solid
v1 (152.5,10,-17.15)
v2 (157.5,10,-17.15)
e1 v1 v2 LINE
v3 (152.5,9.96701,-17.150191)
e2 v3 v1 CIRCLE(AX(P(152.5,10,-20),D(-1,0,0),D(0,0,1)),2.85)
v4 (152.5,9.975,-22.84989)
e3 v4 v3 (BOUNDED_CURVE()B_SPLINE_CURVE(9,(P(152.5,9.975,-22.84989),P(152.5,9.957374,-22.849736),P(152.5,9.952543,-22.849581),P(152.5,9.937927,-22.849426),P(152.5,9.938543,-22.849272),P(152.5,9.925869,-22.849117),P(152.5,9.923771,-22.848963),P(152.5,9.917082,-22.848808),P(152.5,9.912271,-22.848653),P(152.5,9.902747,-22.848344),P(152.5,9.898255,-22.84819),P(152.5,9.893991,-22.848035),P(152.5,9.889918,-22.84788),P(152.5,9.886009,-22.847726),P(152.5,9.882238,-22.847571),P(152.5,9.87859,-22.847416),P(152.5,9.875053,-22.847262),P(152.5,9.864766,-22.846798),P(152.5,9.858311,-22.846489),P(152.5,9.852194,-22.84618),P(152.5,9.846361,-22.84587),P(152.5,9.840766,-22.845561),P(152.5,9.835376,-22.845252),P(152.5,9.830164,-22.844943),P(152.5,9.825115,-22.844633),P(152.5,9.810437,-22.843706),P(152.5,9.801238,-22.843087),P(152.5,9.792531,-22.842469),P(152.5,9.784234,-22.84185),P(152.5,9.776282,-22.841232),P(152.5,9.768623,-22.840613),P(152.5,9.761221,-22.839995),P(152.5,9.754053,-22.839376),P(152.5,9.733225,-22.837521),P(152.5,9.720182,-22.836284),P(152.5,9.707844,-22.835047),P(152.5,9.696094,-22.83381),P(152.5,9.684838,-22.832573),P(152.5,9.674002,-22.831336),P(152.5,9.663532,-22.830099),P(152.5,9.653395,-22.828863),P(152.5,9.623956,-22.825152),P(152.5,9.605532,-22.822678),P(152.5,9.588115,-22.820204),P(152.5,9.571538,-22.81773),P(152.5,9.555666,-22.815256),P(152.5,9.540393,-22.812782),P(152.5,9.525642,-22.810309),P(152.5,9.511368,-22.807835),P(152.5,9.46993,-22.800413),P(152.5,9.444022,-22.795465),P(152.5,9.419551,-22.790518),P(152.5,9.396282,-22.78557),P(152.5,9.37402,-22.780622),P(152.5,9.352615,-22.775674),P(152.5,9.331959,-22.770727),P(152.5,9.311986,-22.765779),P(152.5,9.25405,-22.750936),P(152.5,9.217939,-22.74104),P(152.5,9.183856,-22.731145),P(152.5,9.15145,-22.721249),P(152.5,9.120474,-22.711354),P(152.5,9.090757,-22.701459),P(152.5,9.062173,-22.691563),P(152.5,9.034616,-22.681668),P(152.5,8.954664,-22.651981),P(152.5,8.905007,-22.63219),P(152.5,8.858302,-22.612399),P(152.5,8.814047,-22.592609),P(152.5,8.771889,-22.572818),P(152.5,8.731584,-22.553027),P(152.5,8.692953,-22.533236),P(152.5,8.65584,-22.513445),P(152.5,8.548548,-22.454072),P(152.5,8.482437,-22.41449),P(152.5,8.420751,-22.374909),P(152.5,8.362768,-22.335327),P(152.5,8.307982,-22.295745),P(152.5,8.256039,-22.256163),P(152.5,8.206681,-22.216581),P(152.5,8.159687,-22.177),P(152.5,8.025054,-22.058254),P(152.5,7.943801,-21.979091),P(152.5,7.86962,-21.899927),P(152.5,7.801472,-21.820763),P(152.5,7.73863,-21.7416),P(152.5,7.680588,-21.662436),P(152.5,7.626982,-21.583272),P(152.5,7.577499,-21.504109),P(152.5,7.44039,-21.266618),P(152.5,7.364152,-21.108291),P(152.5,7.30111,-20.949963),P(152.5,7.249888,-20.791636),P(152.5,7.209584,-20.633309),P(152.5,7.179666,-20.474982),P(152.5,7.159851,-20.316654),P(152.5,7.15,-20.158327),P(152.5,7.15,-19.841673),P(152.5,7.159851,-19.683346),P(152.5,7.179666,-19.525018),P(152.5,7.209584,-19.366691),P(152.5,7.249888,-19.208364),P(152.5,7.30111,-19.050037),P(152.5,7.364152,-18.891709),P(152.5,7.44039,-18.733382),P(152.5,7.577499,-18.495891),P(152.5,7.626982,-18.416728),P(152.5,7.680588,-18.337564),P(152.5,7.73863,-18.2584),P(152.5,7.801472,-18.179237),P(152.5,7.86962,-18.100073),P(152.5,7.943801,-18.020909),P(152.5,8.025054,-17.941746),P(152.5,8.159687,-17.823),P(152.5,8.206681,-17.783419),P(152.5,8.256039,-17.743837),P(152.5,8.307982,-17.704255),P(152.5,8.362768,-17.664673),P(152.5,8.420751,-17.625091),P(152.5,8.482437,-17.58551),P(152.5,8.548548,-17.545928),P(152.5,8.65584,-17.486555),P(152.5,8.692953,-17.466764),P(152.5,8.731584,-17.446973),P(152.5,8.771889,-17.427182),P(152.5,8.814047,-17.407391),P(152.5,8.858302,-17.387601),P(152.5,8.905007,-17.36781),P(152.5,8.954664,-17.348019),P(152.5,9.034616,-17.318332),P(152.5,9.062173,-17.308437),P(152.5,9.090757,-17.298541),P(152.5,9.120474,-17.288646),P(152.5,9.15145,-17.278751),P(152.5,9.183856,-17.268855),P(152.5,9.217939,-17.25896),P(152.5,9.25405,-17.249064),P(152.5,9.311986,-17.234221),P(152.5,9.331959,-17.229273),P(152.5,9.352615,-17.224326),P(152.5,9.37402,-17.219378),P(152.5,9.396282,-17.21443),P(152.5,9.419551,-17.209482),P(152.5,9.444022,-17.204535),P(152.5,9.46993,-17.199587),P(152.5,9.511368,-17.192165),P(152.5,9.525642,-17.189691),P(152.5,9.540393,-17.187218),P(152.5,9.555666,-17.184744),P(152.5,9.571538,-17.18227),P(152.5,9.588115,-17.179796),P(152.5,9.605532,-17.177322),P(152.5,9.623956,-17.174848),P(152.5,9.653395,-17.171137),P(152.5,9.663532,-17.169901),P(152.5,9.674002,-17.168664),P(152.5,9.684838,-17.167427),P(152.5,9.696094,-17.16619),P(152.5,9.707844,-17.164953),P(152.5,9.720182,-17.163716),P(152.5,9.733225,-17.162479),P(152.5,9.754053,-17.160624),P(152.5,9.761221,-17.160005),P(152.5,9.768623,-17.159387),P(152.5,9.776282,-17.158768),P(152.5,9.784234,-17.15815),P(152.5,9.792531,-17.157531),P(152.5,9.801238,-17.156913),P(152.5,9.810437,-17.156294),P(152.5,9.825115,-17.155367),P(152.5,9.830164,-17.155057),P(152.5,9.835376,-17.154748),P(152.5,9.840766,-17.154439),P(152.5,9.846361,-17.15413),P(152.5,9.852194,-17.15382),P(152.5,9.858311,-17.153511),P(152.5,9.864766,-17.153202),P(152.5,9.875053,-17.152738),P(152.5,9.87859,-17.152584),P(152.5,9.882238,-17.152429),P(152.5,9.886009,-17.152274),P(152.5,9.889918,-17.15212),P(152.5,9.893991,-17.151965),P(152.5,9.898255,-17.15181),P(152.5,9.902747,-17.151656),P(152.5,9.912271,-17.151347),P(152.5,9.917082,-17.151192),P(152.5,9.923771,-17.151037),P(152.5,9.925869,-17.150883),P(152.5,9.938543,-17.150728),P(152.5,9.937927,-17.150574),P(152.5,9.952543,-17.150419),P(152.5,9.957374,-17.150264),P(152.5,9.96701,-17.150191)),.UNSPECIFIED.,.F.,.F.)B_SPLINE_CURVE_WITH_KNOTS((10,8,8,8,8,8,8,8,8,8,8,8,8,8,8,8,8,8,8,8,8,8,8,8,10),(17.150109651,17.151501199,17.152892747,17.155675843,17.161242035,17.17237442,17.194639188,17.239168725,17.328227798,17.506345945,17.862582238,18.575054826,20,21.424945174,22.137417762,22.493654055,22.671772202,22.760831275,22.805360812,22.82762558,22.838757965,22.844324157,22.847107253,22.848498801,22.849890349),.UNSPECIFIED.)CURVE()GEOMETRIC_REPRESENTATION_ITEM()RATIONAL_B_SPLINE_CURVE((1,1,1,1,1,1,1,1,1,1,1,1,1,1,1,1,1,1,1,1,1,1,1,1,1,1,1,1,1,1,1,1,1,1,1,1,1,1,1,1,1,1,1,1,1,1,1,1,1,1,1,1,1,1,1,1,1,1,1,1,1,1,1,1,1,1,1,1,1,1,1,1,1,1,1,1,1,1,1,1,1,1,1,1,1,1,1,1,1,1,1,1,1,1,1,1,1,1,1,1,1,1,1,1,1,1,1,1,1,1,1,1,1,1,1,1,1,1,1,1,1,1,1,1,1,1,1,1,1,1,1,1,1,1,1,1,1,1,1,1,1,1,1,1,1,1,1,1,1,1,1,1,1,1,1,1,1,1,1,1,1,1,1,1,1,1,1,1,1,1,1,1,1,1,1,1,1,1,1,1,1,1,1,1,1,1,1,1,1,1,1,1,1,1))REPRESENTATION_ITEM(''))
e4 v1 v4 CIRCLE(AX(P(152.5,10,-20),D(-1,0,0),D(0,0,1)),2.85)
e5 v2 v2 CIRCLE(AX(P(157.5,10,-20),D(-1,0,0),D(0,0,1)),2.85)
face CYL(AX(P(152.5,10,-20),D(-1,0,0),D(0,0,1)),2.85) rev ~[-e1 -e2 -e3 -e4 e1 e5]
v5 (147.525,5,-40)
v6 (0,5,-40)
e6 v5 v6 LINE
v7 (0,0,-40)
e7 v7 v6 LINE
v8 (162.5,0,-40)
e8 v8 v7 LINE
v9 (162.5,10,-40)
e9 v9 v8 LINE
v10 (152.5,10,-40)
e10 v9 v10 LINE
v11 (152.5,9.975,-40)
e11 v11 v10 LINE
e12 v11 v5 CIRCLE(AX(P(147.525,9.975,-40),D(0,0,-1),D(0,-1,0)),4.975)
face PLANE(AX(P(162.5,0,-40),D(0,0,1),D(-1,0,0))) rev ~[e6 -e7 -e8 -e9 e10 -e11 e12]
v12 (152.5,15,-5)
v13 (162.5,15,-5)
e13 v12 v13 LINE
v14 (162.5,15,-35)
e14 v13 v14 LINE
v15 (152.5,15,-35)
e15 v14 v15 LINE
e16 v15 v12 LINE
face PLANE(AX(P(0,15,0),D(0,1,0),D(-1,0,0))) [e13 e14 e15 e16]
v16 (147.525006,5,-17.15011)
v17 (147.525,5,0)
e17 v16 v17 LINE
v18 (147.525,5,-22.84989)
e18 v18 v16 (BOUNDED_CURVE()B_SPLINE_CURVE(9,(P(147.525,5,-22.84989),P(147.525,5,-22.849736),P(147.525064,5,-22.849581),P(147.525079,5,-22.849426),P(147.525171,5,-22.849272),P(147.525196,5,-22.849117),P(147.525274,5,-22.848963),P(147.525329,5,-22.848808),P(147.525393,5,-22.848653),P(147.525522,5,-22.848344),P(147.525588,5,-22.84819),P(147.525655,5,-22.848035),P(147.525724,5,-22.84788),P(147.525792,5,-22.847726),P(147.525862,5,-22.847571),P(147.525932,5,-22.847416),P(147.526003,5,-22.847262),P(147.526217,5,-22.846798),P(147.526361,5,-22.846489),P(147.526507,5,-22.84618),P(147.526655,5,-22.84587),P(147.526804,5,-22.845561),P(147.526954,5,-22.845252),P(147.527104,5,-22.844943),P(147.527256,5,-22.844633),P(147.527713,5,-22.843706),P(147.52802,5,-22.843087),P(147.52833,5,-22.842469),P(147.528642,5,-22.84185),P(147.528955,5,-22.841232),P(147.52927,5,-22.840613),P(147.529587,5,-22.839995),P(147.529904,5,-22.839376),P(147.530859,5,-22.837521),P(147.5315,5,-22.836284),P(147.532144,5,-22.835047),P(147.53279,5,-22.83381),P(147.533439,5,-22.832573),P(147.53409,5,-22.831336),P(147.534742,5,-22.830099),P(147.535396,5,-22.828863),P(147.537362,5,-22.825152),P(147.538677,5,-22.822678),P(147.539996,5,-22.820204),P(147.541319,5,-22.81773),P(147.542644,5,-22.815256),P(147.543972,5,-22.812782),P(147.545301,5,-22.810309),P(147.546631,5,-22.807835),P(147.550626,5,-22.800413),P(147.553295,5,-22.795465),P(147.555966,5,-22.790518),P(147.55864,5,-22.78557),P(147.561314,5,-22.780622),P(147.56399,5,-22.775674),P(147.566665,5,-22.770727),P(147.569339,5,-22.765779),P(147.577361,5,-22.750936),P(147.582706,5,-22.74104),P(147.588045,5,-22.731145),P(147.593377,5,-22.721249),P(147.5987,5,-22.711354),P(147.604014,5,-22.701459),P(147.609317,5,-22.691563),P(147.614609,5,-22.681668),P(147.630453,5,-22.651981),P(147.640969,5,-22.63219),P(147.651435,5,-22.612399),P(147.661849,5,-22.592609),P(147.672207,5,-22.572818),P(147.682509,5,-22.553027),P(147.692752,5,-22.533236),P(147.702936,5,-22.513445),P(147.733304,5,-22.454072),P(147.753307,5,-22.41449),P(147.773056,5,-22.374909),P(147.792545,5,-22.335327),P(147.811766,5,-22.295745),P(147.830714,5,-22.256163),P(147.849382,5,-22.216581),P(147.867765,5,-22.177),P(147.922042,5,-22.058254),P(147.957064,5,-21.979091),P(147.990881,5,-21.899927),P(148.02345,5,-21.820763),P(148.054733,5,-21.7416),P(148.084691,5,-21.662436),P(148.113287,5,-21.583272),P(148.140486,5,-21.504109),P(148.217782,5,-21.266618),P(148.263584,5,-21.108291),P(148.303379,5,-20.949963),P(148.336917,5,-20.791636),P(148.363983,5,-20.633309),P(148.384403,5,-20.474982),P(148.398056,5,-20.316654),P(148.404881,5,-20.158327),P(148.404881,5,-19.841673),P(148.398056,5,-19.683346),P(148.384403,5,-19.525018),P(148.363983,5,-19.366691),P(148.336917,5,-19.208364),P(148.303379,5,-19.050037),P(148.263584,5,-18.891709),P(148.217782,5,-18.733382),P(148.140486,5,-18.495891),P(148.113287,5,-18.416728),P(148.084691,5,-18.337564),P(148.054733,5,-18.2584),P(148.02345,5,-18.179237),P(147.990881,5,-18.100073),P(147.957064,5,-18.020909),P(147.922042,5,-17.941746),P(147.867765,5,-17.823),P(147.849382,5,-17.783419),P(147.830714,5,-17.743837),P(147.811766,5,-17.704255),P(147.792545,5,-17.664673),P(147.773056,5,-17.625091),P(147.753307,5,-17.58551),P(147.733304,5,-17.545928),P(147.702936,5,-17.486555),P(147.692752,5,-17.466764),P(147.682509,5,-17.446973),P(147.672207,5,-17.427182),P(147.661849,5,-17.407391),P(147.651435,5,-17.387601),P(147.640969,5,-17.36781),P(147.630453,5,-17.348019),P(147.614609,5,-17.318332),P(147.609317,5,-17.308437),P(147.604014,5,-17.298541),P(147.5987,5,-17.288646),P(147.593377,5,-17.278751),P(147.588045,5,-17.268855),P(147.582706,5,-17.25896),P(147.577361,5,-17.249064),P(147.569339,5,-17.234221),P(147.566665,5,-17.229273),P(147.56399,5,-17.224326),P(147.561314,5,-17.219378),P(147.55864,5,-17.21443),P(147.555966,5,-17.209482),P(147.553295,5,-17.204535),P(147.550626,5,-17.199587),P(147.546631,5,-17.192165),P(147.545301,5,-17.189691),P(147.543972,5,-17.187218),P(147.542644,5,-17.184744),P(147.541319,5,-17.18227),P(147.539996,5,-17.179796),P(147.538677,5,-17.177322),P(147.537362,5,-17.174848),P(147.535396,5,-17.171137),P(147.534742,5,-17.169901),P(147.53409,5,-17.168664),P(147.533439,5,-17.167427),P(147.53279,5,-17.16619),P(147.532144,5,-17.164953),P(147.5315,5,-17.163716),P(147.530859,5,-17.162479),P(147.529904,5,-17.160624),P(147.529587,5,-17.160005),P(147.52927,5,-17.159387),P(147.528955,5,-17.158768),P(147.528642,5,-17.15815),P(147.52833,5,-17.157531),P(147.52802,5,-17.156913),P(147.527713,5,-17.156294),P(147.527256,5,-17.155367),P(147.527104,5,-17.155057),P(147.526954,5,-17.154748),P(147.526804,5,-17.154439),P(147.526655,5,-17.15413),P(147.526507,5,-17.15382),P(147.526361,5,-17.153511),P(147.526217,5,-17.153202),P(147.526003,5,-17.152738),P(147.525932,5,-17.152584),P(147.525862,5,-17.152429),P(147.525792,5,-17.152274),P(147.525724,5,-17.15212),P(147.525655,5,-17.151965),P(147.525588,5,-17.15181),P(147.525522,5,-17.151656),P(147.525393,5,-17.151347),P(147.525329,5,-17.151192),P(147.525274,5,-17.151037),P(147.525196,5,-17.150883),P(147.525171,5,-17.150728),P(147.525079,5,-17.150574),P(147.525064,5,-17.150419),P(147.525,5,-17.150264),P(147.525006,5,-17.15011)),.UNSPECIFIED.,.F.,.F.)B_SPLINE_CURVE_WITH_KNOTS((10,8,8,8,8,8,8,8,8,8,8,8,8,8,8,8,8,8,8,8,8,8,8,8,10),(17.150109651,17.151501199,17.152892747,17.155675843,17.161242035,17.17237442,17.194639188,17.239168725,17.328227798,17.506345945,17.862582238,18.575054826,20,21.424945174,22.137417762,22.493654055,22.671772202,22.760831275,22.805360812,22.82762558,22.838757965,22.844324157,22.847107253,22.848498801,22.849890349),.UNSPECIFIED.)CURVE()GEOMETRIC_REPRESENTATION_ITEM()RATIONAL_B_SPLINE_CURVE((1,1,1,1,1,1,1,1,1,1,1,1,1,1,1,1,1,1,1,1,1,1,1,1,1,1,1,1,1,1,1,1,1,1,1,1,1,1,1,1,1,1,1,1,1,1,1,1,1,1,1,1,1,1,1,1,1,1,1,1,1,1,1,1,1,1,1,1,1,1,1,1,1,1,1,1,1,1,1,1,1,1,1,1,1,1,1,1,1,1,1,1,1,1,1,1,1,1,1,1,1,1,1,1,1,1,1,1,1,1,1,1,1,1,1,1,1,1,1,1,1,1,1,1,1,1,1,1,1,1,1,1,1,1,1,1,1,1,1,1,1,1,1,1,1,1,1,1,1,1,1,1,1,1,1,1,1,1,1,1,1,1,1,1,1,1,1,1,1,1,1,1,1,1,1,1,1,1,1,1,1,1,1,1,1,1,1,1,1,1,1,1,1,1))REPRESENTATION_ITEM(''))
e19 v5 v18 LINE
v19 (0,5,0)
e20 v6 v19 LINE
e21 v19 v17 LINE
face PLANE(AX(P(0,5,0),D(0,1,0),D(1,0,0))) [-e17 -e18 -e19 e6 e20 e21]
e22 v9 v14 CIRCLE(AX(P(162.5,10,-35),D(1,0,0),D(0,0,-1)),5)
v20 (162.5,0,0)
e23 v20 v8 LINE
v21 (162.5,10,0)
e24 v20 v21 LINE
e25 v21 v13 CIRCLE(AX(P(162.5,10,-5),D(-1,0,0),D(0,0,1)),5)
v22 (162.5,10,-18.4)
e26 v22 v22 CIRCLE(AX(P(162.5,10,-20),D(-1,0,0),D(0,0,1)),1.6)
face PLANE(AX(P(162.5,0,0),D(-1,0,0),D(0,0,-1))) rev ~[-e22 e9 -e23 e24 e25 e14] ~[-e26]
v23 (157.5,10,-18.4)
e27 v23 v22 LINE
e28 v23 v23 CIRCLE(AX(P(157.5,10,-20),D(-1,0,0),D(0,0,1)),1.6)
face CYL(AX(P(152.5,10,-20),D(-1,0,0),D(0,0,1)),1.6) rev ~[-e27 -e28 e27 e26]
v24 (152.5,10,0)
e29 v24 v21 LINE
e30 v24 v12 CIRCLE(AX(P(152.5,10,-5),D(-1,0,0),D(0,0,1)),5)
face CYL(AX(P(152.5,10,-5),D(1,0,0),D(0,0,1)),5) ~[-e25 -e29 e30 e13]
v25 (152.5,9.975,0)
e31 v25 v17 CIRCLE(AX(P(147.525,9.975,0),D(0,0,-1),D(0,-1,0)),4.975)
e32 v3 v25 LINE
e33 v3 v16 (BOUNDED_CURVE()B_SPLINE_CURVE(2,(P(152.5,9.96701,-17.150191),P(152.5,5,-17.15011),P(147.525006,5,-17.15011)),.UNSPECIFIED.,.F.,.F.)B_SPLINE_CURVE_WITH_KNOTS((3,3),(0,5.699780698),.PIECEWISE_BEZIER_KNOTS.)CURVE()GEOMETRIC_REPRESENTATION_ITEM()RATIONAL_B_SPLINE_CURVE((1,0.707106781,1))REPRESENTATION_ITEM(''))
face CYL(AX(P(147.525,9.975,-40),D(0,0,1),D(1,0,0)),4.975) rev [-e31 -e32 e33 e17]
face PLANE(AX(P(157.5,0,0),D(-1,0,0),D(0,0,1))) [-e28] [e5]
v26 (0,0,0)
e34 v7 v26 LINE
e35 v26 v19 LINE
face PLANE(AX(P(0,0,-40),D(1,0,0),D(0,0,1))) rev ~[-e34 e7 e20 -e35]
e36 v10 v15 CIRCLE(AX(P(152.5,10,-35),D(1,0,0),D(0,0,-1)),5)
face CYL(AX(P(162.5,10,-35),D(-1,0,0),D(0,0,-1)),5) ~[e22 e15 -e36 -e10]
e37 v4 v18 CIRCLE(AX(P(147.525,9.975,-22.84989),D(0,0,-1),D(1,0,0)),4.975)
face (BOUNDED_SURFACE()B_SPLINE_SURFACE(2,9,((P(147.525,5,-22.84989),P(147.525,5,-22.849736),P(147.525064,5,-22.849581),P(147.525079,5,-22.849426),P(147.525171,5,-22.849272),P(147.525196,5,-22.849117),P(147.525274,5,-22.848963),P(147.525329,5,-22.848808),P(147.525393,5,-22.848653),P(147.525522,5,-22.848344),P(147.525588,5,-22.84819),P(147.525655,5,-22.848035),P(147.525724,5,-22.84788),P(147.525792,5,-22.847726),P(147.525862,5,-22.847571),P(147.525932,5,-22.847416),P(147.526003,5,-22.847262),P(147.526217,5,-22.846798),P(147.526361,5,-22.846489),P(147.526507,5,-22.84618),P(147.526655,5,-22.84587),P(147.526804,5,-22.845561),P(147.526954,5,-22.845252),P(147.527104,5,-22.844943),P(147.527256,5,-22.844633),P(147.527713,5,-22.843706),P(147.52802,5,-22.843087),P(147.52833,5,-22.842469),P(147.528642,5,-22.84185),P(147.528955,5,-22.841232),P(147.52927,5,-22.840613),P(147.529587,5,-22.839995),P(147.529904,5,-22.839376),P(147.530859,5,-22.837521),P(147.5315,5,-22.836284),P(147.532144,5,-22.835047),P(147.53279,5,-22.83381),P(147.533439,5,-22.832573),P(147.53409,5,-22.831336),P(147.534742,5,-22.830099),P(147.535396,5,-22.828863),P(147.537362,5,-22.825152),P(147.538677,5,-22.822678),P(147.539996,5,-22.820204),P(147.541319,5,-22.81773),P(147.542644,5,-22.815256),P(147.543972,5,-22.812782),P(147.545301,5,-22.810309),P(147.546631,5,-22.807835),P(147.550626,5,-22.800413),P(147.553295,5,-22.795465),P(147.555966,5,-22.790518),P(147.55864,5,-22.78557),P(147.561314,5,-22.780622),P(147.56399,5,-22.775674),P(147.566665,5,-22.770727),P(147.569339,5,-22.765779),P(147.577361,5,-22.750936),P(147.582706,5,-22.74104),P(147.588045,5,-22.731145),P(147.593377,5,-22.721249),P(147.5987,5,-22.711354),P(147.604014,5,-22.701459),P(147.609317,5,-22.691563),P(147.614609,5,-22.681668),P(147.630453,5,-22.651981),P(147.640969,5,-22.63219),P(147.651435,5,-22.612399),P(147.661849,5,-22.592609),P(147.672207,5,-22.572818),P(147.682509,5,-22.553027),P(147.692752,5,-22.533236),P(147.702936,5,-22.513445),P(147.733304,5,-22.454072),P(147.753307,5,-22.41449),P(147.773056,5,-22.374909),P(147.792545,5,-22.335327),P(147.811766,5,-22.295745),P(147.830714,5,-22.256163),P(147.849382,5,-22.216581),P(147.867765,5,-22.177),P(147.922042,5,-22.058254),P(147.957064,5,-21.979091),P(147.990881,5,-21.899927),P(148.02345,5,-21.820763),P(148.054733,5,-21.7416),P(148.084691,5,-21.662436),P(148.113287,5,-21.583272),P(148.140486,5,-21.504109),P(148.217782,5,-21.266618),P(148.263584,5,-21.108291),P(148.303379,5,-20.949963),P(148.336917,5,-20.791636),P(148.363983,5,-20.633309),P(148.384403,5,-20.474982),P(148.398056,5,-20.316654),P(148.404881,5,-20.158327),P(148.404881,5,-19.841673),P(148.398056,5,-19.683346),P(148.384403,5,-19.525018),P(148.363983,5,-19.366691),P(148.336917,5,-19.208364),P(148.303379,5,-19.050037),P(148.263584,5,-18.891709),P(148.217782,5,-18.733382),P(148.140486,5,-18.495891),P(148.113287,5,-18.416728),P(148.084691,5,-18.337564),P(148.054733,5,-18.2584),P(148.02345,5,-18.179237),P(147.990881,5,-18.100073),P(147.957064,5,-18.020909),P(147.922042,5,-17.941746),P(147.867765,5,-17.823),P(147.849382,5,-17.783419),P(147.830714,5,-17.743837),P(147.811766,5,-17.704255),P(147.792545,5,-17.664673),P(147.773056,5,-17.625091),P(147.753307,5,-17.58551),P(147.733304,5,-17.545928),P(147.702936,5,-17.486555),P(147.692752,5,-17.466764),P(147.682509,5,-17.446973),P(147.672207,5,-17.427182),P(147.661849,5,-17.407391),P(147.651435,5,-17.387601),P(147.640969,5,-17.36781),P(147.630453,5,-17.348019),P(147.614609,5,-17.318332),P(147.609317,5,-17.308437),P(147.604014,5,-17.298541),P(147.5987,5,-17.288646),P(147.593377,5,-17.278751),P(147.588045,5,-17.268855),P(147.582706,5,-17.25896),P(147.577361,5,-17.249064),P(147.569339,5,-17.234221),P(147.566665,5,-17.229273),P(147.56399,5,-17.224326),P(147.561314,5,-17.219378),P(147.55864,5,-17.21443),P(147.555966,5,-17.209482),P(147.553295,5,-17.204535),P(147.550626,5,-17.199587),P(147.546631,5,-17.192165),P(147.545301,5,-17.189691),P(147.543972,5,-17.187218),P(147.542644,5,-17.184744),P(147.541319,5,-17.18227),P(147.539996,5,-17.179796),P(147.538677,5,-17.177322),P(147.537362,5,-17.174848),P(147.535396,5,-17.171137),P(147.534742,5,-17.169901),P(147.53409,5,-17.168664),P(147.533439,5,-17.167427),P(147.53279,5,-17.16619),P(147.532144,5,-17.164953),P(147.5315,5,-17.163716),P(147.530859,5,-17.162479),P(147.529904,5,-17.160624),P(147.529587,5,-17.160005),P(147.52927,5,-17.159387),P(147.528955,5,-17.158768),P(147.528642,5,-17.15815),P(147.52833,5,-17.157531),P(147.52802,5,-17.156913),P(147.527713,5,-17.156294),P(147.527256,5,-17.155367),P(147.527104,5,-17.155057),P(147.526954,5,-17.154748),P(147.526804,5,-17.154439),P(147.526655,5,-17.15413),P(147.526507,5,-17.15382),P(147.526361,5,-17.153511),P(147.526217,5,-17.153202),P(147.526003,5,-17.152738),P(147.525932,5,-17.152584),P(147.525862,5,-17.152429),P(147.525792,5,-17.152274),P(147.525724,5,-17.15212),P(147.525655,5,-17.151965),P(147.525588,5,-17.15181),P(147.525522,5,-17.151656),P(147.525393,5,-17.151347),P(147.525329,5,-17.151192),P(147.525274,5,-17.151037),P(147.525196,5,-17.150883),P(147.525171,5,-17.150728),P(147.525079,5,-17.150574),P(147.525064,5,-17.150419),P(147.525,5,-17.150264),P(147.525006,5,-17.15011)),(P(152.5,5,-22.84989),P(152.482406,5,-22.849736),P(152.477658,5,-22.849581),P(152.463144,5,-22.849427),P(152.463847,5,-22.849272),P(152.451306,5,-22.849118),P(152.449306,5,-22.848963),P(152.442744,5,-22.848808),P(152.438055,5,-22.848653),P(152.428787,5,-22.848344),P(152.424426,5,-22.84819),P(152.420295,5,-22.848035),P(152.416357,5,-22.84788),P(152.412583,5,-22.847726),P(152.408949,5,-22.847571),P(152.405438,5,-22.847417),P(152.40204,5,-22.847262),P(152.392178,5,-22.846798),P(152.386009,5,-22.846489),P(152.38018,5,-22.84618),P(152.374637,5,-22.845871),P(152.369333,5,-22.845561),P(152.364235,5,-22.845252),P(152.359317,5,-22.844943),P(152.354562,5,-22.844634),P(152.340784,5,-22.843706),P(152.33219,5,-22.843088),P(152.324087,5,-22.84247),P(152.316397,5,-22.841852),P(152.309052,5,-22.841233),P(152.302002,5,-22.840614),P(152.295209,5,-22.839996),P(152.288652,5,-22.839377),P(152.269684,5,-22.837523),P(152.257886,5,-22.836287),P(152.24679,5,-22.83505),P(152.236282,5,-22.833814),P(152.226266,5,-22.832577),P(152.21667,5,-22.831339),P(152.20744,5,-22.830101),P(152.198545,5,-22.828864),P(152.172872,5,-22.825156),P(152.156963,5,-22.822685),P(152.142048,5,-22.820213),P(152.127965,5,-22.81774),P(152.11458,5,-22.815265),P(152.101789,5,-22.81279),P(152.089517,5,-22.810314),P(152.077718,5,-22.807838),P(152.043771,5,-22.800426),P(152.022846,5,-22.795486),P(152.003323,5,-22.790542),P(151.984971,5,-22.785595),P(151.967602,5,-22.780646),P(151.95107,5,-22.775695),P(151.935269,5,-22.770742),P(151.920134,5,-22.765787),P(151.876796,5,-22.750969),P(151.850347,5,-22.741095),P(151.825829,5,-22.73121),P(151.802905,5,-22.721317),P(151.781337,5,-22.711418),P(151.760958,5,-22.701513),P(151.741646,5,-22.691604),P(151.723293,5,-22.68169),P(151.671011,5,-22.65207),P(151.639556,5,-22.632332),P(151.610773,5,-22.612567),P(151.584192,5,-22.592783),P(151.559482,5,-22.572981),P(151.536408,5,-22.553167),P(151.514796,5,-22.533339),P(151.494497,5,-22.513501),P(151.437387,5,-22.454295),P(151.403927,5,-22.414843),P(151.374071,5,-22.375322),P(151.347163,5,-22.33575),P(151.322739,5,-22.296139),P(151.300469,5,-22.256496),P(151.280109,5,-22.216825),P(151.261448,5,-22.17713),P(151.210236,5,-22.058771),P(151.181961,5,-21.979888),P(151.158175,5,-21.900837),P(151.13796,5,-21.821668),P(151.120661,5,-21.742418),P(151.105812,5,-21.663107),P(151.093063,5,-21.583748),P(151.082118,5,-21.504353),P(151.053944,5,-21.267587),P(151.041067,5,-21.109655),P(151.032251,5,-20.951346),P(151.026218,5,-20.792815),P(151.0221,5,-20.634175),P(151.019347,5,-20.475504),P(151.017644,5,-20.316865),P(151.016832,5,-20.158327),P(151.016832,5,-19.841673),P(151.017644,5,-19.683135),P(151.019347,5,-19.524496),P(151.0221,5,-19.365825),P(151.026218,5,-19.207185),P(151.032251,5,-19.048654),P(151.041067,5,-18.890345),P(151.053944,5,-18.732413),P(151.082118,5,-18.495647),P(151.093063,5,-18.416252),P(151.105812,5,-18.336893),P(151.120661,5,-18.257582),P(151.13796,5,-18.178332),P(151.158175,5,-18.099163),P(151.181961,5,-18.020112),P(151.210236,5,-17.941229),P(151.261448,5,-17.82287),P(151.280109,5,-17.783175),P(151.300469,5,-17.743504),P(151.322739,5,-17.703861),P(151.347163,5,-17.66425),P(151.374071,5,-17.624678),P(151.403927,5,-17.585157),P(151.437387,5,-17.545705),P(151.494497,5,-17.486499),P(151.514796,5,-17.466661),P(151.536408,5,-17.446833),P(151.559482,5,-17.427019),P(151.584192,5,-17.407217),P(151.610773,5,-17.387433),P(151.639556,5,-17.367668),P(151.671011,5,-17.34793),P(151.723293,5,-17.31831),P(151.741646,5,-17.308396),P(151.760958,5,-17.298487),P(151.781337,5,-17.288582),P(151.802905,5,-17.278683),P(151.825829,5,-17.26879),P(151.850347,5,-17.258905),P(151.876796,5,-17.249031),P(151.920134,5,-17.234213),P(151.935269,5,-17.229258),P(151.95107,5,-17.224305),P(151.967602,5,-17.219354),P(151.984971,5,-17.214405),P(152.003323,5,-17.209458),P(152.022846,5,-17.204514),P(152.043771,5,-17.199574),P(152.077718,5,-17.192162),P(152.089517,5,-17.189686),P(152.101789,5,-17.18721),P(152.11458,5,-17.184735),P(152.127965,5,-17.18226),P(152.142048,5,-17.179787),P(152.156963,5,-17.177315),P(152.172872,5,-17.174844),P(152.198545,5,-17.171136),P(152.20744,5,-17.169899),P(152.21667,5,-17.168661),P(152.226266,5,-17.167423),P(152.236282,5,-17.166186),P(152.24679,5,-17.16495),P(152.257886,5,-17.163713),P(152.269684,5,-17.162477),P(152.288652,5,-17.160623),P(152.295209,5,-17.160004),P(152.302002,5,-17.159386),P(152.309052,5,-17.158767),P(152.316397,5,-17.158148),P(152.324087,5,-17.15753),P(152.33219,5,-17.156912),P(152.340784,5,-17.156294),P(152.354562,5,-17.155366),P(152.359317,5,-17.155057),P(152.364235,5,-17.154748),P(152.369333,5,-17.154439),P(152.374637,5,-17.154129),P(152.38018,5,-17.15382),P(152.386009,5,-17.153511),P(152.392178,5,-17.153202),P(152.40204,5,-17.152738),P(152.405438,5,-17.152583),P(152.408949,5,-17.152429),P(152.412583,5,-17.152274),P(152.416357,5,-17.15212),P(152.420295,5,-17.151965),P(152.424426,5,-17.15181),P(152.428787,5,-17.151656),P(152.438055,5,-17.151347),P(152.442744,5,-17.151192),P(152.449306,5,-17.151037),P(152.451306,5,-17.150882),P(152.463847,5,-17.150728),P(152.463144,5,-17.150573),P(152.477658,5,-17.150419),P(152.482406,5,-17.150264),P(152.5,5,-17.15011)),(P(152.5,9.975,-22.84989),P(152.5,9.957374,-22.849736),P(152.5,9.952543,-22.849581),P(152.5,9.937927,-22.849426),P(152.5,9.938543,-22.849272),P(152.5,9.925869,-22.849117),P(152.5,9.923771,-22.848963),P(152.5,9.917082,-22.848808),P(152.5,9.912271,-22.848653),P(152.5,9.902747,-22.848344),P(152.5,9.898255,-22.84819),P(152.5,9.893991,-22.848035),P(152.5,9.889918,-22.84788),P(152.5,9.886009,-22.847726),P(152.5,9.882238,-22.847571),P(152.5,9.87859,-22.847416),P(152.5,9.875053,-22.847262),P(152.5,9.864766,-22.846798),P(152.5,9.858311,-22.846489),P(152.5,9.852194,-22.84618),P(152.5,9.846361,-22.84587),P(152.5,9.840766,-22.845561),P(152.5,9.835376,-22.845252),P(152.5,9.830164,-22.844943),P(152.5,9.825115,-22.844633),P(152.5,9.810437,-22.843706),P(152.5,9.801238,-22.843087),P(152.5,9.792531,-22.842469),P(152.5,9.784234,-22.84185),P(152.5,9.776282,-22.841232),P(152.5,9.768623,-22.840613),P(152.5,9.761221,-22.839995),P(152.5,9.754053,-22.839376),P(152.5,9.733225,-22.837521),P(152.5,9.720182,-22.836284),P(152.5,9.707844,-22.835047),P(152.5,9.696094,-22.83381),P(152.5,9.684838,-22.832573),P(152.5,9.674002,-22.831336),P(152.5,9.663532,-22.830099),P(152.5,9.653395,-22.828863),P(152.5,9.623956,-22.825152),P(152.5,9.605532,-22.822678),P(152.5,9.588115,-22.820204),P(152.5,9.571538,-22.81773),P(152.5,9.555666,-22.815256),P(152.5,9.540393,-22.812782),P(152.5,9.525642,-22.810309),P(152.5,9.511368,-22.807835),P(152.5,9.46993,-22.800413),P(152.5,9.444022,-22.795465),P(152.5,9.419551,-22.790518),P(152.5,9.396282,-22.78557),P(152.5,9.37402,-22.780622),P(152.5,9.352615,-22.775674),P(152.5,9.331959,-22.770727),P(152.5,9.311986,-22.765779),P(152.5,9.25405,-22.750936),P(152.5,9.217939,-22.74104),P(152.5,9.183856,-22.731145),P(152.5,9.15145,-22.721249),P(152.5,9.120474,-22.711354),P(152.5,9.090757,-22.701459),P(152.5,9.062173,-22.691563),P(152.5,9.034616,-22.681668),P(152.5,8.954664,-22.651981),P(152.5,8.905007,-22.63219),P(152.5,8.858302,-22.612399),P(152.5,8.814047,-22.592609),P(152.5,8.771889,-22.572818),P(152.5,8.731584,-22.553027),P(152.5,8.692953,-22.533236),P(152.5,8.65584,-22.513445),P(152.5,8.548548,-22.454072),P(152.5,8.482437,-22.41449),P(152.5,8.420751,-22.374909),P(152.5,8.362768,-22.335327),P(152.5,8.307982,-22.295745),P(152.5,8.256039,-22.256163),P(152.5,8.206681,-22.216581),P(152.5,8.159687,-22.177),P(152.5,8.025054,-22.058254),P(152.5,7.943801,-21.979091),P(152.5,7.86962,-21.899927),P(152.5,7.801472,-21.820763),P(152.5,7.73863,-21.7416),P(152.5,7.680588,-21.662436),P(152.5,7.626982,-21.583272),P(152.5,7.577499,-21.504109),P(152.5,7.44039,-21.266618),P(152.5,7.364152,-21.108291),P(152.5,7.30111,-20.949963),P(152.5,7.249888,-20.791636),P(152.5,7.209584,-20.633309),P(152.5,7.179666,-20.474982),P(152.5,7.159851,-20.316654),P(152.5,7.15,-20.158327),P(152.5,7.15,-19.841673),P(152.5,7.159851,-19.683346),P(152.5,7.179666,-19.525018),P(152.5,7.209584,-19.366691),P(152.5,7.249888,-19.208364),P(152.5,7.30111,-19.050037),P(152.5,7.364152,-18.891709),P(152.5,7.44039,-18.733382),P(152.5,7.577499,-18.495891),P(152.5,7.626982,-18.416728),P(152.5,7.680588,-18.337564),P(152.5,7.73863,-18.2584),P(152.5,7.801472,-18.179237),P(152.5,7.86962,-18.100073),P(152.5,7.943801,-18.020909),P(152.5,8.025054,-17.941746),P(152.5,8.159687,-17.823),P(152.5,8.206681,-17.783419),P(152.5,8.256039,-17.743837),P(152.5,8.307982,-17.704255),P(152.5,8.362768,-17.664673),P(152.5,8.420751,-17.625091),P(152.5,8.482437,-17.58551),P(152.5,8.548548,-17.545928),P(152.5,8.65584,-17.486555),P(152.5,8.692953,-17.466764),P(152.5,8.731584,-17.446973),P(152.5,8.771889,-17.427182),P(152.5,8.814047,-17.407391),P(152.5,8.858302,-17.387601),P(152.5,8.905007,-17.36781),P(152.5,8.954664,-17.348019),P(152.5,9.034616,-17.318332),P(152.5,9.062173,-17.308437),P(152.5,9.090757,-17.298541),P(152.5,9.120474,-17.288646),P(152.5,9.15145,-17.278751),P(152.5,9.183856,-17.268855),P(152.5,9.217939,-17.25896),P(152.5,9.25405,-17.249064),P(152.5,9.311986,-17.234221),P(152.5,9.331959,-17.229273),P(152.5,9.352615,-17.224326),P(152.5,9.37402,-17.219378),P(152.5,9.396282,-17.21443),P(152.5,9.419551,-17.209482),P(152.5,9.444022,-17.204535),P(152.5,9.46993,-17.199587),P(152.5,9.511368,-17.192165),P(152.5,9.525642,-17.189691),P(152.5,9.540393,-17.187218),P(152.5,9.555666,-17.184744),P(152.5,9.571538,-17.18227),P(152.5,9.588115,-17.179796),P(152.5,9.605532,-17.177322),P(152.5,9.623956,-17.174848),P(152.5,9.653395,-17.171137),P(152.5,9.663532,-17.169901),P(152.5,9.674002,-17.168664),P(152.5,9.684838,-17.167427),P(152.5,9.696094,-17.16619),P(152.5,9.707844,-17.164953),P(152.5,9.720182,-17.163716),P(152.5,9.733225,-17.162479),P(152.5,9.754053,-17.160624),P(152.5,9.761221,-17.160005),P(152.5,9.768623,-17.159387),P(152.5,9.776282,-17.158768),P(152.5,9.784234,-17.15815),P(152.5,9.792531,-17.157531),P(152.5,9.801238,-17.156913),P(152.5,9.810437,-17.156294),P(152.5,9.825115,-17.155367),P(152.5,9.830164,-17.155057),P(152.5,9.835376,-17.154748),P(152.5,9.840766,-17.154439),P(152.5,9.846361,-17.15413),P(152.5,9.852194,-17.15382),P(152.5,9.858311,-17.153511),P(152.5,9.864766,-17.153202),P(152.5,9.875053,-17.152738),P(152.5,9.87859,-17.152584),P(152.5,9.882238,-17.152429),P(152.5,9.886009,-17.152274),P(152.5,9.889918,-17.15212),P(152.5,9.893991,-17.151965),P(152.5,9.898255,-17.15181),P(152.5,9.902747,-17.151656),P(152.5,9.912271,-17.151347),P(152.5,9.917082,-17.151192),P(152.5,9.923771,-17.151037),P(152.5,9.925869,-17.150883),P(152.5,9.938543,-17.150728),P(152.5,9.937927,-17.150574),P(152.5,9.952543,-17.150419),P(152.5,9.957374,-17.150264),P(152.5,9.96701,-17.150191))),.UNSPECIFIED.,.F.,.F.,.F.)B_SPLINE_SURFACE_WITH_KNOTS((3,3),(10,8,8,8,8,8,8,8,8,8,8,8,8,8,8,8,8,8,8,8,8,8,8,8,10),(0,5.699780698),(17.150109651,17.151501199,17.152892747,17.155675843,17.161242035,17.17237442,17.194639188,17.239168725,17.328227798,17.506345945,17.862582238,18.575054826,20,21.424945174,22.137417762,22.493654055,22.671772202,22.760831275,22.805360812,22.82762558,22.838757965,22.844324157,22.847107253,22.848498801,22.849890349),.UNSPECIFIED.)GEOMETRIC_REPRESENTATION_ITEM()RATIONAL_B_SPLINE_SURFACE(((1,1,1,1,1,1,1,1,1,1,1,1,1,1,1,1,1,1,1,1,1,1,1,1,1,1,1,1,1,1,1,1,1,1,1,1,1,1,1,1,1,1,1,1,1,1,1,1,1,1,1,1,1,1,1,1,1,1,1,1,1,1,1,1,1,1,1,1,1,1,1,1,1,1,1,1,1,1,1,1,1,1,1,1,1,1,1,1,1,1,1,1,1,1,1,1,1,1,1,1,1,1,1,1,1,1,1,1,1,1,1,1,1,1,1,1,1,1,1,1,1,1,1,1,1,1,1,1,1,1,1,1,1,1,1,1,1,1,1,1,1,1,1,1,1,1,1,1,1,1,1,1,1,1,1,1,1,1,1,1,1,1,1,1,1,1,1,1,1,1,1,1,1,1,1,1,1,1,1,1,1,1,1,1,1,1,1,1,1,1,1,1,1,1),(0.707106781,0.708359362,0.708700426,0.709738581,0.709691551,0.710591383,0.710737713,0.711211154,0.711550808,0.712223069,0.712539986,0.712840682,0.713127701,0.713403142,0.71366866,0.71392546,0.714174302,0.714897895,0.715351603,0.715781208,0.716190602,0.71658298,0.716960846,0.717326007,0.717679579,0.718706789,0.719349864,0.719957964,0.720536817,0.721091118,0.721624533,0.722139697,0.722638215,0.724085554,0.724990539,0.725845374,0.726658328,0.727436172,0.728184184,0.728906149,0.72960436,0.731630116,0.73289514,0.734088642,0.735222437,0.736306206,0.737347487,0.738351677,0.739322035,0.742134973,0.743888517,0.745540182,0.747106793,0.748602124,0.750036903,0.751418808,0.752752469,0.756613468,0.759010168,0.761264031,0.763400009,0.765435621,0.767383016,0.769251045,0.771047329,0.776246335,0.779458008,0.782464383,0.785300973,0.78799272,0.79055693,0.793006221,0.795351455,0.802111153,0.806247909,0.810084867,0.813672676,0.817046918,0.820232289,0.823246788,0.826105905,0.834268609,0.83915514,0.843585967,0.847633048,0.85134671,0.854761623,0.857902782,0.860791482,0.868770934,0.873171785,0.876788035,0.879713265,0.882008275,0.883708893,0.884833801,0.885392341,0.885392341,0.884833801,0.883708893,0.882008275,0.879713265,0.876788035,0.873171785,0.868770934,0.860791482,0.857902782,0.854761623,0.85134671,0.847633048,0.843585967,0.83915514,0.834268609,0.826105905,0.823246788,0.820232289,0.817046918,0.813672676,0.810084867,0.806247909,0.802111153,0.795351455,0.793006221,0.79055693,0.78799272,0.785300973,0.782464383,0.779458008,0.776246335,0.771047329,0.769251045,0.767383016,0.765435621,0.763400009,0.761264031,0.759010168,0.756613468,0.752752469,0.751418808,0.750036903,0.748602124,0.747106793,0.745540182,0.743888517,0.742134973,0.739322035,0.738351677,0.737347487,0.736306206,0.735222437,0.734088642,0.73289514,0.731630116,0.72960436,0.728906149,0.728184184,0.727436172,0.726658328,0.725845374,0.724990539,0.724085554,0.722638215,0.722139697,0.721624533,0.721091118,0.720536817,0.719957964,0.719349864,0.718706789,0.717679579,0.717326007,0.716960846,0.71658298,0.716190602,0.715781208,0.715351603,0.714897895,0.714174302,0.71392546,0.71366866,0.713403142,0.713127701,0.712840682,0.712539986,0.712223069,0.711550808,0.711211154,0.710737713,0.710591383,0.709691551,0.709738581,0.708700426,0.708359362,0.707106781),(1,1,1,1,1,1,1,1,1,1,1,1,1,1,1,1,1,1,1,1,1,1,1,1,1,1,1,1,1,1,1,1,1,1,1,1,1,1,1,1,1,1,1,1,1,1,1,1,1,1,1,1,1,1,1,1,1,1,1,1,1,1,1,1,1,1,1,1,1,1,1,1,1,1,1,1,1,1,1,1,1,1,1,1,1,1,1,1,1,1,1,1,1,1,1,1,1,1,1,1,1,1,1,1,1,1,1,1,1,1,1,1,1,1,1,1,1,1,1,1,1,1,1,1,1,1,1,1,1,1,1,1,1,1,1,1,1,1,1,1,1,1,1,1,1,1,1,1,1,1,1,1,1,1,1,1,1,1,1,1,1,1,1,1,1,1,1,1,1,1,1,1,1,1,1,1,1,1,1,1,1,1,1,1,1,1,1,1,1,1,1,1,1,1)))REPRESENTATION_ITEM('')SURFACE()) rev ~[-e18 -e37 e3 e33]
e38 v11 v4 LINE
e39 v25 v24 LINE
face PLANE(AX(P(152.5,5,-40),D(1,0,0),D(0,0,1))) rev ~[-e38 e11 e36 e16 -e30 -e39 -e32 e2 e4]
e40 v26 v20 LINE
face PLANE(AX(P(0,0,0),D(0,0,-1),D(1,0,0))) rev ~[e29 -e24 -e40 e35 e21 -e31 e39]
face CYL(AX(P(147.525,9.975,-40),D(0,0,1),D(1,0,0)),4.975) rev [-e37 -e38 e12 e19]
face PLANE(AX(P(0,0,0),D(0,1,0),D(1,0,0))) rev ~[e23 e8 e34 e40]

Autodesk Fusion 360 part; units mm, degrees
sketch "Sketch1" plane through (0, 0, 0) normal (0, 1, 0) x (1, 0, 0)
  line L0 (0, 0) -> (162.5, 0)
  line L1 (162.5, 0) -> (162.5, 40)
  line L2 (162.5, 40) -> (0, 40)
  line L3 (0, 40) -> (0, 0)
  dimension "d1" = 162.5
  dimension "d2" = 40
extrude "Extrude1" add sketch "Sketch1" along normal blind 5
sketch "Sketch2" plane through (0, 5, 0) normal (0, 1, 0) x (-1, 0, 0)
  line L0 (0, -40) -> (0, 0)
  line L1 (0, 0) -> (-162.5, 0)
  line L2 (-162.5, 0) -> (-162.5, -40)
  line L3 (-162.5, -40) -> (0, -40)
  line L4 (-162.5, -40) -> (-152.5, -40)
  line L5 (-152.5, -40) -> (-152.5, 0)
  line L6 (-152.5, 0) -> (-162.5, 0)
  line L7 (-162.5, 0) -> (-162.5, -40)
  dimension "d10" = 10
extrude "Extrude2" add sketch "Sketch2" along normal blind 10 contours L1 L2 L3 L4 L5 L6 L7
sketch "Sketch3" plane through (152.5, 0, 0) normal (-1, 0, 0) x (0, 0, 1)
  line L0 (-40, 5) -> (0, 5)
  line L1 (0, 5) -> (0, 15)
  line L2 (0, 15) -> (-40, 15)
  line L3 (-40, 15) -> (-40, 5)
  line L4 (-40, 15) -> (0, 5) construction
  line L5 (-40, 5) -> (0, 15) construction
  circle A0 centre (-20, 10) radius 1.6
  circle A1 centre (-20, 10) radius 2.85
  dimension "d7" = 3.2
  dimension "d15" = 5.7
extrude "Extrude3" cut sketch "Sketch3" against normal blind 10.5 contours A0
fillet "Fillet1" radius 5 1 edges at (157.5, 15, 0)
extrude "Extrude4" cut sketch "Sketch3" along normal blind -5 and the other way blind 0 contours A1
fillet "Fillet3" radius 5 1 edges at (152.5, 5, -20)
fillet "Fillet4" radius 5 1 edges at (157.5, 15, -40)
